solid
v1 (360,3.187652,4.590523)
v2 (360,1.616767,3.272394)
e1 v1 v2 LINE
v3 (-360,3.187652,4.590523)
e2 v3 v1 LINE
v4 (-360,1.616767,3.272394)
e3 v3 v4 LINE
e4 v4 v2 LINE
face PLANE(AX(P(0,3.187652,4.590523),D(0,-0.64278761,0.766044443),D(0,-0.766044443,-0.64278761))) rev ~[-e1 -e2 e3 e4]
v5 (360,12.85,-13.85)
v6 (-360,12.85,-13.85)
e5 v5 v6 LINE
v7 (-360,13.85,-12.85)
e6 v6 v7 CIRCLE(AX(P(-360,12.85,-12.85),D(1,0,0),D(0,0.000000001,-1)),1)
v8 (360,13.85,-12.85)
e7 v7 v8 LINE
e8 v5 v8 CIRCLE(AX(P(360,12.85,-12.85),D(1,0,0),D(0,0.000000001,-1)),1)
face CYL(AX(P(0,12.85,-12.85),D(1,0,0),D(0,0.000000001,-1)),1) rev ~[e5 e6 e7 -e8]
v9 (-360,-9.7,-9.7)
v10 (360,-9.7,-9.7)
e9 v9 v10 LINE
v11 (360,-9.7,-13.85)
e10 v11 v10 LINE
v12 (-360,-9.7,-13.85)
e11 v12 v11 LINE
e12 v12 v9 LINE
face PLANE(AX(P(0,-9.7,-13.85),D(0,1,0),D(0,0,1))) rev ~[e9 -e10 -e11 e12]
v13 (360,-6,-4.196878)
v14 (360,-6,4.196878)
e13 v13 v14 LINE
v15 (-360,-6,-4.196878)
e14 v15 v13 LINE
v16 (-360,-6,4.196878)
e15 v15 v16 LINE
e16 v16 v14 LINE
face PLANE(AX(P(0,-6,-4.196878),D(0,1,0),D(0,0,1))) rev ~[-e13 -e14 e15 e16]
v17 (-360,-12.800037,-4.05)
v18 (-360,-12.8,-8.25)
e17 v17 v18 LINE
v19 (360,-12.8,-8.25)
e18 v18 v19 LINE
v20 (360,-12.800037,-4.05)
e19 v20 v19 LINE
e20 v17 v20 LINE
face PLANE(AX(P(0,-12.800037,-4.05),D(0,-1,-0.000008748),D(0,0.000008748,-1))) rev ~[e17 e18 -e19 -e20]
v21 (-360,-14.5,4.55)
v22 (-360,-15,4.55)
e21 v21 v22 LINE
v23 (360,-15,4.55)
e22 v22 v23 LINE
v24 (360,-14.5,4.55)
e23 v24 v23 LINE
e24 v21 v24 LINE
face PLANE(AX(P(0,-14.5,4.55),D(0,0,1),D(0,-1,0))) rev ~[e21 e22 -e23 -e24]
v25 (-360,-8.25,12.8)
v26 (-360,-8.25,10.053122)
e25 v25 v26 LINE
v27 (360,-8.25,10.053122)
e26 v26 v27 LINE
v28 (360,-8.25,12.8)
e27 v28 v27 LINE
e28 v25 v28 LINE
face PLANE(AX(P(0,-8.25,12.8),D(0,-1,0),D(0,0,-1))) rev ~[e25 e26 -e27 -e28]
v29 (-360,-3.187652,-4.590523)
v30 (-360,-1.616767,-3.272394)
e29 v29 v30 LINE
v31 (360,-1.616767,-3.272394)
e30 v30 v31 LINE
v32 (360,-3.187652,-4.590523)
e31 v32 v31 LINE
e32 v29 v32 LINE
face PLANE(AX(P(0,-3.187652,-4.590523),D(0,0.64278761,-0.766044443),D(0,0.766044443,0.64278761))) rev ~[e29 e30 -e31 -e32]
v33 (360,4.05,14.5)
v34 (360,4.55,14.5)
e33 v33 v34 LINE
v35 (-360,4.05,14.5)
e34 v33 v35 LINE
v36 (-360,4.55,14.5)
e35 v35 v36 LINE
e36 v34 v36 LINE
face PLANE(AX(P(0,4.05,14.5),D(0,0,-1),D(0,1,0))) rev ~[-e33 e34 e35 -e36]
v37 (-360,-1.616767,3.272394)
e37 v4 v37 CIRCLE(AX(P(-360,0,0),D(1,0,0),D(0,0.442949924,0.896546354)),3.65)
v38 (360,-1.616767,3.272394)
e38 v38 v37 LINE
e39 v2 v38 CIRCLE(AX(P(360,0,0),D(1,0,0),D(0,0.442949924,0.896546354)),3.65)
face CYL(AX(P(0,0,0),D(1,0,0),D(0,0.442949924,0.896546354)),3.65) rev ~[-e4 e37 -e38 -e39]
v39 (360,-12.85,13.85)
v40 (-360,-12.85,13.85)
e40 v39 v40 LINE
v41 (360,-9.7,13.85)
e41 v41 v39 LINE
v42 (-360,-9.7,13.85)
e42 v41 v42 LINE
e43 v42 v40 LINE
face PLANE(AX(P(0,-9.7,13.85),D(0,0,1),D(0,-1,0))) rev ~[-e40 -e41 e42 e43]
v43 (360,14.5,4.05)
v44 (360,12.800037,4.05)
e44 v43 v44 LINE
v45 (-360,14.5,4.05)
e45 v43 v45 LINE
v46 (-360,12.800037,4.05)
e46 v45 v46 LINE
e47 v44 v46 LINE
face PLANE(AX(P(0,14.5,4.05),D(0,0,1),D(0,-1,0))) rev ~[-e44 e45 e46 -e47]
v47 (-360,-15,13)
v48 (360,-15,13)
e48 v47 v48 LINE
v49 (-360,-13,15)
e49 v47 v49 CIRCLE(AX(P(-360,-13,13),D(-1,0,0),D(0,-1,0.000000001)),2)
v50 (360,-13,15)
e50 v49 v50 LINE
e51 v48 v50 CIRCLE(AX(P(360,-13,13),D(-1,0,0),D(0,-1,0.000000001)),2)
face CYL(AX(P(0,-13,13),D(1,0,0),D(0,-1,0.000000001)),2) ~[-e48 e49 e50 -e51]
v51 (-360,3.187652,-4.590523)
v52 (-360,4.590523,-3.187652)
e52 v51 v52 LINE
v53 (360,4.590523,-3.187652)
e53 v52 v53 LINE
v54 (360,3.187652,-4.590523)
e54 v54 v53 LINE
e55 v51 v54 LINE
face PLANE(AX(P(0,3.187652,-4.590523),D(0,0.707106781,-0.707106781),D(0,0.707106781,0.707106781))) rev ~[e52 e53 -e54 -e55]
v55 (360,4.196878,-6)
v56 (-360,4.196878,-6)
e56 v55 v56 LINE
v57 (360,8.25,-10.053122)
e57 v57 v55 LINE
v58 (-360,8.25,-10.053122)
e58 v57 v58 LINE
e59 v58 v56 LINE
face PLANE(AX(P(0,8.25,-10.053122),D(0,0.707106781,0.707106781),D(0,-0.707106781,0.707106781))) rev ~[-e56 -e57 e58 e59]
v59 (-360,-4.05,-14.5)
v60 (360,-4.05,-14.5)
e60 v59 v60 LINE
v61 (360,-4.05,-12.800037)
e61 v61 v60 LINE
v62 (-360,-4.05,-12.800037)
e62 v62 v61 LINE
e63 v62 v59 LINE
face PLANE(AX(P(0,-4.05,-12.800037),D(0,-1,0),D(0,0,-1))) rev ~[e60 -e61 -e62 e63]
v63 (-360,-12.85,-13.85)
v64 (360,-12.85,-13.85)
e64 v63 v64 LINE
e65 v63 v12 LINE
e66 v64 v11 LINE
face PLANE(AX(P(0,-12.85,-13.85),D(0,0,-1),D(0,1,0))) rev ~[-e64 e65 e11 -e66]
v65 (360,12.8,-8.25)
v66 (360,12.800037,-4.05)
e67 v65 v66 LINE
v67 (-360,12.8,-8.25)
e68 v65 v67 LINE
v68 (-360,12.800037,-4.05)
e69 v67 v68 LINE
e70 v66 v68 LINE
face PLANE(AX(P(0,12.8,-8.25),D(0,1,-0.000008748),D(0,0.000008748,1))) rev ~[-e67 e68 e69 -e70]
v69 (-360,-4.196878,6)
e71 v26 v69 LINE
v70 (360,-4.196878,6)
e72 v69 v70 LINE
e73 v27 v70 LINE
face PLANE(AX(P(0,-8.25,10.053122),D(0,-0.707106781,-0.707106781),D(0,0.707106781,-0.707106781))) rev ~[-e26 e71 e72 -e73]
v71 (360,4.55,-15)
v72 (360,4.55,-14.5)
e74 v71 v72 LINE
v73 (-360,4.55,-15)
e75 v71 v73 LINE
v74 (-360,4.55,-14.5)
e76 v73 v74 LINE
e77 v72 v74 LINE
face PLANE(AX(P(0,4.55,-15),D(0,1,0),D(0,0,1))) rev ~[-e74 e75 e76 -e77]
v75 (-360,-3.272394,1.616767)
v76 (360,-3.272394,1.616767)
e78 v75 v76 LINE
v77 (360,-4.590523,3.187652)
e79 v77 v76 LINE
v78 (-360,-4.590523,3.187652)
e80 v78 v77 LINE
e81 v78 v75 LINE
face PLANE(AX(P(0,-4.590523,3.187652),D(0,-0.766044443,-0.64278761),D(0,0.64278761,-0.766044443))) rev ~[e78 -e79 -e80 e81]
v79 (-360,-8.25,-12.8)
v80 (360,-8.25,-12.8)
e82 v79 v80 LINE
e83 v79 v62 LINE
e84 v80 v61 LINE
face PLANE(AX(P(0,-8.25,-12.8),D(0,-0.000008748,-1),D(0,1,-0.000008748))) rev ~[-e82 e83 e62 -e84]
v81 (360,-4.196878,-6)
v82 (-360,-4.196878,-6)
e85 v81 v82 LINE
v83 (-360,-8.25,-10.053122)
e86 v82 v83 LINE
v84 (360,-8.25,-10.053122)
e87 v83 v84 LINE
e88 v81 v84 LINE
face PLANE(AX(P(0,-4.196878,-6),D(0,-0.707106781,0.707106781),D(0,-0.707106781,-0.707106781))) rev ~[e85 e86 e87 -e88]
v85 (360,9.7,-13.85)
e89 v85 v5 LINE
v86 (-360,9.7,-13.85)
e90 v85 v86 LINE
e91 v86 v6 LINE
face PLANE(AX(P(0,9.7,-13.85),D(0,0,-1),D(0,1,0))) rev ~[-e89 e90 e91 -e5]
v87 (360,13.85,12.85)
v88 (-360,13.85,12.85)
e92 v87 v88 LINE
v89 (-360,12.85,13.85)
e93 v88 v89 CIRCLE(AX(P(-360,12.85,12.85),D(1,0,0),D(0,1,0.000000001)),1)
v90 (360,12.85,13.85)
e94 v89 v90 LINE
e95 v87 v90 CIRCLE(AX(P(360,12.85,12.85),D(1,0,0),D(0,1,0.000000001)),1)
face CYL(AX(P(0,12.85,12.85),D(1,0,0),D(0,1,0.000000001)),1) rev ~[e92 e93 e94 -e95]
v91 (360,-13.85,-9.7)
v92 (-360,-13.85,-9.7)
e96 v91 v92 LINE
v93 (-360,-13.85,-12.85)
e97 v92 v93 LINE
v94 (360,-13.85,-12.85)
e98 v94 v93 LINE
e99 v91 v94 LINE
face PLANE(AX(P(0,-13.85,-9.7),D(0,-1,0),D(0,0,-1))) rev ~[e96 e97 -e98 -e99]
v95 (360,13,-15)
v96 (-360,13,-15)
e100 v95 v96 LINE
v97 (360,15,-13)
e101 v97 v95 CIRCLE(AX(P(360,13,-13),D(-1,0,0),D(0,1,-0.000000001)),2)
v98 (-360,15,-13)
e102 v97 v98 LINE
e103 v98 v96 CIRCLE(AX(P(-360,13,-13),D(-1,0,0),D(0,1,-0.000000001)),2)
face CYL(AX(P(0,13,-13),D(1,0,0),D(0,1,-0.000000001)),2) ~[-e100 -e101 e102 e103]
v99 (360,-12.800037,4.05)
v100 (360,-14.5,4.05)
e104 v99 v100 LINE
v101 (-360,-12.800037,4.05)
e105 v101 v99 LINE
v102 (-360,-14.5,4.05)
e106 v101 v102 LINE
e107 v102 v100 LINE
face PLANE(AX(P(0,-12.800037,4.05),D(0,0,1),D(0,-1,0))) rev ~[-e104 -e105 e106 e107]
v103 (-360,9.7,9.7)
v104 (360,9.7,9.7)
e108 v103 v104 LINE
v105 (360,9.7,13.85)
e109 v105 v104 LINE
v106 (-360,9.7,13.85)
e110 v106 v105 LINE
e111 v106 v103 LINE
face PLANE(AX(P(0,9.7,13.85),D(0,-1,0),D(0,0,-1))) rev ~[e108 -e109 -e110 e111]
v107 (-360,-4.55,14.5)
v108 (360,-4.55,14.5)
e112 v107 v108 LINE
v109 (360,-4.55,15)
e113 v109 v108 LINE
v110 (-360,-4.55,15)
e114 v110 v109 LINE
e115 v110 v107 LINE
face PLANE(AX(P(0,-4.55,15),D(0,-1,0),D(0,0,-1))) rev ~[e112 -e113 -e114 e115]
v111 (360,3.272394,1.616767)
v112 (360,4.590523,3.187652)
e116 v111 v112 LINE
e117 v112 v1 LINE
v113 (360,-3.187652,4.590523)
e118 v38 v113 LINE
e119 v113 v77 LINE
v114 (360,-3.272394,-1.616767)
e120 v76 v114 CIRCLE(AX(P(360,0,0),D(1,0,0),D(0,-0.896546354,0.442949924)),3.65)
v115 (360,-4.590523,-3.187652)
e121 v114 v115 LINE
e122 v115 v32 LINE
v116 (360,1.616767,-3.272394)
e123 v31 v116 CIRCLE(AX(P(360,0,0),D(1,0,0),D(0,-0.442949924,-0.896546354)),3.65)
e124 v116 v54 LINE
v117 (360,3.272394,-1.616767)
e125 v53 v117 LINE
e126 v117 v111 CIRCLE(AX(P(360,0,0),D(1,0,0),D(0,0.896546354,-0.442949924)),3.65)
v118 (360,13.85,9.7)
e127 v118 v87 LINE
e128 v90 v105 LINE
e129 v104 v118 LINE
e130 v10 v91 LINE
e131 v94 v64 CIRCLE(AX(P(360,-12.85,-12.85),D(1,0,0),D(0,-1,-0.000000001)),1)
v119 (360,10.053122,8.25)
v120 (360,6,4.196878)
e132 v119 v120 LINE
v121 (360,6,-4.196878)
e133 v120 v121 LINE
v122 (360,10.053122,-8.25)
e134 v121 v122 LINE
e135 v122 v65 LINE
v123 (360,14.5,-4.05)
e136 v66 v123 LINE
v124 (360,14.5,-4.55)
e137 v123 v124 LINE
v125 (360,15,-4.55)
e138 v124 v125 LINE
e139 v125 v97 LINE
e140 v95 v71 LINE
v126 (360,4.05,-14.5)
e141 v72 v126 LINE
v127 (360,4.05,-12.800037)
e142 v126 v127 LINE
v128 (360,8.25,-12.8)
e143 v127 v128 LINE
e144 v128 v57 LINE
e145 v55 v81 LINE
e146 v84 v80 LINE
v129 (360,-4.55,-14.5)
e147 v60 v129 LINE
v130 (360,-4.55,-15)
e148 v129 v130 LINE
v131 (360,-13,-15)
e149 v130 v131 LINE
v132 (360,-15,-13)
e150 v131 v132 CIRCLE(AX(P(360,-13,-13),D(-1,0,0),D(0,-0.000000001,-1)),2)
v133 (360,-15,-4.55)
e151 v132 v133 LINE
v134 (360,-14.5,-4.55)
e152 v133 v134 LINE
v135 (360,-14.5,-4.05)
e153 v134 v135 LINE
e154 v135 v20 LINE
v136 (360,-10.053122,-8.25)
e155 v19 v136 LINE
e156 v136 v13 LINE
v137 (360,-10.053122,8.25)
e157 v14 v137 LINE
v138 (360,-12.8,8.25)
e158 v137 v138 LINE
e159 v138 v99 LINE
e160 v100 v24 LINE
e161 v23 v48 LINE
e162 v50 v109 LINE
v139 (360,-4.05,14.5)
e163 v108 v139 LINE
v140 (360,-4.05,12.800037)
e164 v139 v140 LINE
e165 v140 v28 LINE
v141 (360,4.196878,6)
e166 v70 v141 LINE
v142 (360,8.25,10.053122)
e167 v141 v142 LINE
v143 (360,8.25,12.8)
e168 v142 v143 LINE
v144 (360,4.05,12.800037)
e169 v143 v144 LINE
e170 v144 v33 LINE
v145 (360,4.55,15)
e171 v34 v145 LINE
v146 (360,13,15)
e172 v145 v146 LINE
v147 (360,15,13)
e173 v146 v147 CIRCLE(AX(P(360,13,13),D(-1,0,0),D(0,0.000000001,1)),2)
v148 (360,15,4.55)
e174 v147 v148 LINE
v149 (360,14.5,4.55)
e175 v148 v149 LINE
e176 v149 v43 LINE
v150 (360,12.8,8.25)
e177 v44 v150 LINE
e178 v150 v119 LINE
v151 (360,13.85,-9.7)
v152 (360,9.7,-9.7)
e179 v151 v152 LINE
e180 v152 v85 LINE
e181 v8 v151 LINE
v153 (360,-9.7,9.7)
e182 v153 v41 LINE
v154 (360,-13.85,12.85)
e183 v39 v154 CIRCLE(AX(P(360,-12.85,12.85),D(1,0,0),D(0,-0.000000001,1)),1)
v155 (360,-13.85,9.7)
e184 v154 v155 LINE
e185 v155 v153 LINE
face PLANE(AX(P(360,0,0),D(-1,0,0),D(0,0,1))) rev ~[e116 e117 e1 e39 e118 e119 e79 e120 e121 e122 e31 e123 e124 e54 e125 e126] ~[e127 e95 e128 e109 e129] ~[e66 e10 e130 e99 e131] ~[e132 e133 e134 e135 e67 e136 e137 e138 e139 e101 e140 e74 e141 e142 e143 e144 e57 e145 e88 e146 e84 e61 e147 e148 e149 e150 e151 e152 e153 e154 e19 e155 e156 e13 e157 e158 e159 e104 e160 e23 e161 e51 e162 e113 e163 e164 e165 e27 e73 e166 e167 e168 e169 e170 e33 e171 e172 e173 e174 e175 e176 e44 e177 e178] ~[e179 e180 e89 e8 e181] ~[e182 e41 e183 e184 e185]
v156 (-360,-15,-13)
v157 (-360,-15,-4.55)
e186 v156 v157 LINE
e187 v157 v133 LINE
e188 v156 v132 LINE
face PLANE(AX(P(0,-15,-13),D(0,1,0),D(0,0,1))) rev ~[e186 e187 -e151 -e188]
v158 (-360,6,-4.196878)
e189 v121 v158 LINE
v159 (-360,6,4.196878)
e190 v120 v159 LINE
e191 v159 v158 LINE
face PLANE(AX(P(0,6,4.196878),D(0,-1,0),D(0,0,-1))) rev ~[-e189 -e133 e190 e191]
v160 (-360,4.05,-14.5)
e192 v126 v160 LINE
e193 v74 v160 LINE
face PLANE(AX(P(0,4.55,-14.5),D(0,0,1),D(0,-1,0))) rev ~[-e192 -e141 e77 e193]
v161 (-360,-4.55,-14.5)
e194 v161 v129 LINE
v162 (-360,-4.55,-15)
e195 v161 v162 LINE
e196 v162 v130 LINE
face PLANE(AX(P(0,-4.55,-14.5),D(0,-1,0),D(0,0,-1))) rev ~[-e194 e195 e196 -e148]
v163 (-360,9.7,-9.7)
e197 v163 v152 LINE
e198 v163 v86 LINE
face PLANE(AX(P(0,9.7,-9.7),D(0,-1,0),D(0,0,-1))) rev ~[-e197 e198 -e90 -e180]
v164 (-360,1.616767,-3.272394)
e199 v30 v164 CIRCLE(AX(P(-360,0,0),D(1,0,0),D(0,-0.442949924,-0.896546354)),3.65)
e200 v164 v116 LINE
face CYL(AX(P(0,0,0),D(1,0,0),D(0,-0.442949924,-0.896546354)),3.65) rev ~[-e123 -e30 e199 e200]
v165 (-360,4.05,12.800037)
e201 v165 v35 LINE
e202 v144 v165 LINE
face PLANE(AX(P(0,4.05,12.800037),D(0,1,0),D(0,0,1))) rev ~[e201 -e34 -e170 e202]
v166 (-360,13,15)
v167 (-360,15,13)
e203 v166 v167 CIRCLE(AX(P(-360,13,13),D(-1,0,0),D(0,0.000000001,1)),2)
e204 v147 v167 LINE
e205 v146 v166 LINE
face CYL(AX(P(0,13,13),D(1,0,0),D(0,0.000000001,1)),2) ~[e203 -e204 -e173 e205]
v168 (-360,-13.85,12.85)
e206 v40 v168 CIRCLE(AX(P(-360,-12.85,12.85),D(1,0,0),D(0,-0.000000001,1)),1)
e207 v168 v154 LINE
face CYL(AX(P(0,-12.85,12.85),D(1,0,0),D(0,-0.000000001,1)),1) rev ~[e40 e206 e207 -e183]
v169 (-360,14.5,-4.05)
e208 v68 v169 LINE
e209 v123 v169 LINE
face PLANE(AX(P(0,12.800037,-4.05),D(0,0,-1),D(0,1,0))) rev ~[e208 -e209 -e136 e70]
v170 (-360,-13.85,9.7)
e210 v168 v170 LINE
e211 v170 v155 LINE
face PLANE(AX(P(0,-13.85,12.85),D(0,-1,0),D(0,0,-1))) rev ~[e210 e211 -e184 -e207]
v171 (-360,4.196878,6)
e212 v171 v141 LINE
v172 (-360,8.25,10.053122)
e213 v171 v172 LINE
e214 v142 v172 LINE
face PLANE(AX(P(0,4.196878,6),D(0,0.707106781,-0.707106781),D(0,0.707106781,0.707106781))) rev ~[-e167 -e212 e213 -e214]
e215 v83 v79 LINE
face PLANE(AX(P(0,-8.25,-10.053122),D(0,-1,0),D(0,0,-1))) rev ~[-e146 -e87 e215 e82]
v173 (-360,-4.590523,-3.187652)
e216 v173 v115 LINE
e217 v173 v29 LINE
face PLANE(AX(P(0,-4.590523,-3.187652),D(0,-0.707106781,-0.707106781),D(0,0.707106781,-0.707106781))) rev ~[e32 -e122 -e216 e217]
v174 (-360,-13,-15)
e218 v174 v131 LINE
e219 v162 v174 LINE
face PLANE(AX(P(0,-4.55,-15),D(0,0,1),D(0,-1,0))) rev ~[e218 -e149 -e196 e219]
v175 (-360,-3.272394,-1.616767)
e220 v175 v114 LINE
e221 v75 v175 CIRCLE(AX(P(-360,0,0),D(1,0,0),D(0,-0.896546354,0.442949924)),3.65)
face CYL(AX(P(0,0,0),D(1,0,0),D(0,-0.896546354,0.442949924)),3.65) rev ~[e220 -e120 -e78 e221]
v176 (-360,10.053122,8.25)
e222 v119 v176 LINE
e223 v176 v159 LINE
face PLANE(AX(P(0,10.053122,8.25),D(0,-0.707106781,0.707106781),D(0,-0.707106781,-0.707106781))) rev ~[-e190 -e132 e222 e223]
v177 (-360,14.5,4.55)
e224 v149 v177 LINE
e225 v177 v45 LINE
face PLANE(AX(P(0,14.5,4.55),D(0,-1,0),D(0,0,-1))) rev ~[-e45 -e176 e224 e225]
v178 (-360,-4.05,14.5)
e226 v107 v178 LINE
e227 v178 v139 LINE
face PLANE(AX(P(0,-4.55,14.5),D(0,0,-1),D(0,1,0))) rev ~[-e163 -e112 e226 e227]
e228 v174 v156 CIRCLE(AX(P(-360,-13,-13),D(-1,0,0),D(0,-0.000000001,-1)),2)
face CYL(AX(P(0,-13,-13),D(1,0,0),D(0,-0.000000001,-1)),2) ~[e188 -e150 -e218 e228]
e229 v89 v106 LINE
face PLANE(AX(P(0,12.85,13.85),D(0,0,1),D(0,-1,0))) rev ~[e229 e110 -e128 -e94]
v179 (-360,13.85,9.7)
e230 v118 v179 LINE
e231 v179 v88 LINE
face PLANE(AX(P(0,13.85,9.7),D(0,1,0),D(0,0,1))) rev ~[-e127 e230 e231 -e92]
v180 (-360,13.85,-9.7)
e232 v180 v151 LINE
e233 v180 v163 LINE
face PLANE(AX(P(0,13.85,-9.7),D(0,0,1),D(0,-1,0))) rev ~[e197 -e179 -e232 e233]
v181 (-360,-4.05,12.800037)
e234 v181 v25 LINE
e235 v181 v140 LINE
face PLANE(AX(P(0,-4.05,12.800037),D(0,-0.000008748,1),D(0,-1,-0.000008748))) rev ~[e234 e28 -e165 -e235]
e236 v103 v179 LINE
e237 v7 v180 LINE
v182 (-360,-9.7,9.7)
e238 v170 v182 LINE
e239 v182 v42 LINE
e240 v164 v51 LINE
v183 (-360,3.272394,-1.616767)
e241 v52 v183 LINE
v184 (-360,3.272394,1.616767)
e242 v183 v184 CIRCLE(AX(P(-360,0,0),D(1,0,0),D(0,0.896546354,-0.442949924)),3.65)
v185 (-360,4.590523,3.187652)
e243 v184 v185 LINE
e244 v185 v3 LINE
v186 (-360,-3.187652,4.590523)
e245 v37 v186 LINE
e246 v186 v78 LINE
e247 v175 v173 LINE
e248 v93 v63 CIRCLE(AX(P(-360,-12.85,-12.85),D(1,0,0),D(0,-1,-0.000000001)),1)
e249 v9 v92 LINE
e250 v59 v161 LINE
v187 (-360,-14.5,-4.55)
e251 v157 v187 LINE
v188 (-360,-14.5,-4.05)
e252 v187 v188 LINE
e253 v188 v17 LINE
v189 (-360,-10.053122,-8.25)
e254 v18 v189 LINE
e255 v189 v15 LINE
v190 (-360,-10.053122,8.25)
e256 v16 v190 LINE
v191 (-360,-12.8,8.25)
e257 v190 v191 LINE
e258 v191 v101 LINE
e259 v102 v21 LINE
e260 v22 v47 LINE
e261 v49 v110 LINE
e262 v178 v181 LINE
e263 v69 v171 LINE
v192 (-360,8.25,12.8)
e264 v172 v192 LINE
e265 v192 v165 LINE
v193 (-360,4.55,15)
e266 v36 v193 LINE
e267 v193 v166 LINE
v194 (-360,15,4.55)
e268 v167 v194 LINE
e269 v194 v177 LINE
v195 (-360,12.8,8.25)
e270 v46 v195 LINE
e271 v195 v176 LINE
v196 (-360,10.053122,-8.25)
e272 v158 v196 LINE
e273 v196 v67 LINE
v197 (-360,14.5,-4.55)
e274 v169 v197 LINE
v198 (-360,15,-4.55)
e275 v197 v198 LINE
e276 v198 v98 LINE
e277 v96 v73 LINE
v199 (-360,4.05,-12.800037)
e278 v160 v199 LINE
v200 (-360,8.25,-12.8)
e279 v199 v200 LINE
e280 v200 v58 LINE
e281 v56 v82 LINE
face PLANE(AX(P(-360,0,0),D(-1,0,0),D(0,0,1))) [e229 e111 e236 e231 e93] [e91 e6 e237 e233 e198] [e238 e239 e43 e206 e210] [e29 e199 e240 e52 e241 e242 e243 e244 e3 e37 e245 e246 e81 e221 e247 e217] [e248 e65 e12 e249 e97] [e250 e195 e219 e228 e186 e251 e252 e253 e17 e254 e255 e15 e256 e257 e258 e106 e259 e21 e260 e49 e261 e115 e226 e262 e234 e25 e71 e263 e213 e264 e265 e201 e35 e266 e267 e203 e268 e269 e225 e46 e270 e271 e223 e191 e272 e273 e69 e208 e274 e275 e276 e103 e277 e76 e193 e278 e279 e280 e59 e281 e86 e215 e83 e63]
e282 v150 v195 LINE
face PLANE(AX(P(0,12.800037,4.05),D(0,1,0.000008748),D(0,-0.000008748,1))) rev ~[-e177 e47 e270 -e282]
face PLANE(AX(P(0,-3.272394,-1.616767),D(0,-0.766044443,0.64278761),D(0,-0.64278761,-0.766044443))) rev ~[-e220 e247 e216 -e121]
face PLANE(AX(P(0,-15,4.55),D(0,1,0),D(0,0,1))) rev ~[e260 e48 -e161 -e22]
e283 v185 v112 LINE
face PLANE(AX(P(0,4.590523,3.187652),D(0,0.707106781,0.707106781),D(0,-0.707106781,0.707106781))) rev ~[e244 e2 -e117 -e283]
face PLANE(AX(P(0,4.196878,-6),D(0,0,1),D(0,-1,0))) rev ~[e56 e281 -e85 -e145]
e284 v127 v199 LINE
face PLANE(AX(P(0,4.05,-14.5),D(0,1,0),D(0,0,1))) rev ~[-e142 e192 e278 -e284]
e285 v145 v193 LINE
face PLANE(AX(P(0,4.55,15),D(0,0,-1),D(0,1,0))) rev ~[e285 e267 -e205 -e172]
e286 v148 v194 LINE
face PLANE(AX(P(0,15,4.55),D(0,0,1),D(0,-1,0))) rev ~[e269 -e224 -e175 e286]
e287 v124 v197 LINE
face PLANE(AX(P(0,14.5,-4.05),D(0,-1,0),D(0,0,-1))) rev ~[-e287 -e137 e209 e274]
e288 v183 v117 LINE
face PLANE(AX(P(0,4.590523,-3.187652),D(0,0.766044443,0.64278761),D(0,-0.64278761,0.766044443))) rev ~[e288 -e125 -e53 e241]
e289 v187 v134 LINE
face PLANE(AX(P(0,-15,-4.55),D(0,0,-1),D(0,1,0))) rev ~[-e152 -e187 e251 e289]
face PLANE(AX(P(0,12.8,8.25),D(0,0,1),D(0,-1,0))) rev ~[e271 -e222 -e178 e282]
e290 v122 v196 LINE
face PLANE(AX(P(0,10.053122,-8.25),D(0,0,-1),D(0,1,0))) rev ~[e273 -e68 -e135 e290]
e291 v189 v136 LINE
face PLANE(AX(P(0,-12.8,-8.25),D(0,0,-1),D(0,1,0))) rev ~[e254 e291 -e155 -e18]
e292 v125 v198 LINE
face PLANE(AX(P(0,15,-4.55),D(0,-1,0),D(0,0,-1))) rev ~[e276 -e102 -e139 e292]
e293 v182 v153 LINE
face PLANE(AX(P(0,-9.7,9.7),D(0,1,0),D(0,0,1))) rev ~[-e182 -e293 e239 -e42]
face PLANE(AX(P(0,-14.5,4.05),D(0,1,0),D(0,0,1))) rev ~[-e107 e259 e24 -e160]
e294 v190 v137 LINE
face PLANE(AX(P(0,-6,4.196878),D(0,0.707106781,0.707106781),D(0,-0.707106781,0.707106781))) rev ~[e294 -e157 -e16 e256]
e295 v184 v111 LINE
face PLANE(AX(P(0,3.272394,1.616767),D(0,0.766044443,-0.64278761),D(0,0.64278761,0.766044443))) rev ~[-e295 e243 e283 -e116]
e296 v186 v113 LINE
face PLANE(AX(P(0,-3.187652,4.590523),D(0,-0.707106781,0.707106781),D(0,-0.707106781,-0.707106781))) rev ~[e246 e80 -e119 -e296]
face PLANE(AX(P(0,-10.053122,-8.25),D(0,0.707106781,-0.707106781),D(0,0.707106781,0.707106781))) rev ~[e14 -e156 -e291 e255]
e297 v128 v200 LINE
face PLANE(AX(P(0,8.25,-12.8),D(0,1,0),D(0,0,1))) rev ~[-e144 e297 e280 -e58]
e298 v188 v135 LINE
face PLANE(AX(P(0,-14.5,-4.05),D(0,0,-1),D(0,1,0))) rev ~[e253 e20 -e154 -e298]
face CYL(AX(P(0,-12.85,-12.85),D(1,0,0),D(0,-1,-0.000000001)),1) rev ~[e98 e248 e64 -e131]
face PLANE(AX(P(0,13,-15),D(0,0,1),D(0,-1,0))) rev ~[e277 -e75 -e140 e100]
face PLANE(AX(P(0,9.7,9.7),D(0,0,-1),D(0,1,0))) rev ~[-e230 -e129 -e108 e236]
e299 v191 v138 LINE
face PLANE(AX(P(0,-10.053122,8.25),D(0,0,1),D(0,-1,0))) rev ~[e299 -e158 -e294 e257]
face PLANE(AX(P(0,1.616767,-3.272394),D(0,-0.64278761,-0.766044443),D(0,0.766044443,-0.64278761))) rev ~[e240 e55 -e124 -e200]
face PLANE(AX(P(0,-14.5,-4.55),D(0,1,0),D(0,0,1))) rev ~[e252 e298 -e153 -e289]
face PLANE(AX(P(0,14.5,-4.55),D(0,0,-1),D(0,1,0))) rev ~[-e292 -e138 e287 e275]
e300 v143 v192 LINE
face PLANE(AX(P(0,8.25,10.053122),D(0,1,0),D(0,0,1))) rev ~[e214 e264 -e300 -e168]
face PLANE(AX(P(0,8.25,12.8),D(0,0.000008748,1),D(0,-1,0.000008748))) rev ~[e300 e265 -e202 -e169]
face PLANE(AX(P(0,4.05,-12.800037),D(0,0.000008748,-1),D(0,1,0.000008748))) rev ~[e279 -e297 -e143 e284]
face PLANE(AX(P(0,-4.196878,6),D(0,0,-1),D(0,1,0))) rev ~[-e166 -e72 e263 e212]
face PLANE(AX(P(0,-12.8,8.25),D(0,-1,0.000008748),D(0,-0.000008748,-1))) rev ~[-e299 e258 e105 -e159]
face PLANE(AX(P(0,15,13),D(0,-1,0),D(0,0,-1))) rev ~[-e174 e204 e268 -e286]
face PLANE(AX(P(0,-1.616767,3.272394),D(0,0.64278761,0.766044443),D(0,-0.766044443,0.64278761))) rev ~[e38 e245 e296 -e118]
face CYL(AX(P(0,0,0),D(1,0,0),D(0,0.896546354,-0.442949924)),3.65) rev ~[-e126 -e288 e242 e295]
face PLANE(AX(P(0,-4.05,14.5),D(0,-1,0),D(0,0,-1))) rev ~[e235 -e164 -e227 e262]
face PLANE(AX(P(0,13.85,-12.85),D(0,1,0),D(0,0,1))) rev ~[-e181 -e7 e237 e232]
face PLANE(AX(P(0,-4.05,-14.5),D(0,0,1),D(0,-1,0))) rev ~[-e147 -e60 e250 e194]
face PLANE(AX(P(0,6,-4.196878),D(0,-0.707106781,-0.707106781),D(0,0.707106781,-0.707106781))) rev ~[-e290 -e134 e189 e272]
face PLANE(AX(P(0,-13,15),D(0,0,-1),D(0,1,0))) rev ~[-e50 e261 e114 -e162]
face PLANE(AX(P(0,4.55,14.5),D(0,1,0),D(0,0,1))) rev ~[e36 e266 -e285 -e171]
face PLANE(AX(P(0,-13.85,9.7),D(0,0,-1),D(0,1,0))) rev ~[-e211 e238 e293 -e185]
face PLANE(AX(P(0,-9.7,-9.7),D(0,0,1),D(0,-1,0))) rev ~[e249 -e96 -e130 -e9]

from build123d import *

# Parameters (mm, degrees)
BR_EXTRUDE_DEPTH      = 360
BR_EXTRUDE_DEPTH_BACK = 360


with BuildPart() as part:
    # Sketch2 → BR_Extrude (new body, two sides)
    with BuildSketch(Plane(origin=(0, 0, 0), x_dir=(0, 0, -1), z_dir=(1, 0, 0))) as br_extrude_sk:
        with BuildLine():
            Line((-6, 4.196877708), (-10.053122292, 8.25))
            Line((-10.053122292, 8.25), (-12.8, 8.25))
            Line((-12.8, 8.25), (-12.800036742, 4.05))
            Line((-12.800036742, 4.05), (-14.5, 4.05))
            Line((-14.5, 4.05), (-14.5, 4.55))
            Line((-14.5, 4.55), (-15, 4.55))
            Line((-15, 4.55), (-15, 13))
            ThreePointArc((-15, 13), (-14.414213562, 14.414213562), (-13, 15))
            Line((-13, 15), (-4.55, 15))
            Line((-4.55, 15), (-4.55, 14.5))
            Line((-4.55, 14.5), (-4.05, 14.5))
            Line((-4.05, 14.5), (-4.05, 12.800036742))
            Line((-4.05, 12.800036742), (-8.25, 12.8))
            Line((-8.25, 12.8), (-8.25, 10.053122292))
            Line((-8.25, 10.053122292), (-4.196877708, 6))
            Line((-4.196877708, 6), (4.196877708, 6))
            Line((4.196877708, 6), (8.25, 10.053122292))
            Line((8.25, 10.053122292), (8.25, 12.8))
            Line((8.25, 12.8), (4.05, 12.800036742))
            Line((4.05, 12.800036742), (4.05, 14.5))
            Line((4.05, 14.5), (4.55, 14.5))
            Line((4.55, 14.5), (4.55, 15))
            Line((4.55, 15), (13, 15))
            ThreePointArc((13, 15), (14.414213562, 14.414213562), (15, 13))
            Line((15, 13), (15, 4.55))
            Line((15, 4.55), (14.5, 4.55))
            Line((14.5, 4.55), (14.5, 4.05))
            Line((14.5, 4.05), (12.800036742, 4.05))
            Line((12.800036742, 4.05), (12.8, 8.25))
            Line((12.8, 8.25), (10.053122292, 8.25))
            Line((10.053122292, 8.25), (6, 4.196877708))
            Line((6, 4.196877708), (6, -4.196877708))
            Line((6, -4.196877708), (10.053122292, -8.25))
            Line((10.053122292, -8.25), (12.8, -8.25))
            Line((12.8, -8.25), (12.800036742, -4.05))
            Line((12.800036742, -4.05), (14.5, -4.05))
            Line((14.5, -4.05), (14.5, -4.55))
            Line((14.5, -4.55), (15, -4.55))
            Line((15, -4.55), (15, -13))
            ThreePointArc((15, -13), (14.414213562, -14.414213562), (13, -15))
            Line((13, -15), (4.55, -15))
            Line((4.55, -15), (4.55, -14.5))
            Line((4.55, -14.5), (4.05, -14.5))
            Line((4.05, -14.5), (4.05, -12.800036742))
            Line((4.05, -12.800036742), (8.25, -12.8))
            Line((8.25, -12.8), (8.25, -10.053122292))
            Line((8.25, -10.053122292), (4.196877708, -6))
            Line((4.196877708, -6), (-4.196877708, -6))
            Line((-4.196877708, -6), (-8.25, -10.053122292))
            Line((-8.25, -10.053122292), (-8.25, -12.8))
            Line((-8.25, -12.8), (-4.05, -12.800036742))
            Line((-4.05, -12.800036742), (-4.05, -14.5))
            Line((-4.05, -14.5), (-4.55, -14.5))
            Line((-4.55, -14.5), (-4.55, -15))
            Line((-4.55, -15), (-13, -15))
            ThreePointArc((-13, -15), (-14.414213562, -14.414213562), (-15, -13))
            Line((-15, -13), (-15, -4.55))
            Line((-15, -4.55), (-14.5, -4.55))
            Line((-14.5, -4.55), (-14.5, -4.05))
            Line((-14.5, -4.05), (-12.800036742, -4.05))
            Line((-12.800036742, -4.05), (-12.8, -8.25))
            Line((-12.8, -8.25), (-10.053122292, -8.25))
            Line((-10.053122292, -8.25), (-6, -4.196877708))
            Line((-6, -4.196877708), (-6, 4.196877708))
        make_face()
        with BuildLine():
            Line((-13.85, -9.7), (-13.85, -12.85))
            ThreePointArc((-13.85, -12.85), (-13.557106781, -13.557106781), (-12.85, -13.85))
            Line((-12.85, -13.85), (-9.7, -13.85))
            Line((-9.7, -13.85), (-9.7, -9.7))
            Line((-9.7, -9.7), (-13.85, -9.7))
        make_face(mode=Mode.SUBTRACT)
        with BuildLine():
            Line((9.7, -13.85), (12.85, -13.85))
            ThreePointArc((12.85, -13.85), (13.557106781, -13.557106781), (13.85, -12.85))
            Line((13.85, -12.85), (13.85, -9.7))
            Line((13.85, -9.7), (9.7, -9.7))
            Line((9.7, -9.7), (9.7, -13.85))
        make_face(mode=Mode.SUBTRACT)
        with BuildLine():
            Line((13.85, 9.7), (13.85, 12.85))
            ThreePointArc((13.85, 12.85), (13.557106781, 13.557106781), (12.85, 13.85))
            Line((12.85, 13.85), (9.7, 13.85))
            Line((9.7, 13.85), (9.7, 9.7))
            Line((9.7, 9.7), (13.85, 9.7))
        make_face(mode=Mode.SUBTRACT)
        with BuildLine():
            Line((-9.7, 13.85), (-12.85, 13.85))
            ThreePointArc((-12.85, 13.85), (-13.557106781, 13.557106781), (-13.85, 12.85))
            Line((-13.85, 12.85), (-13.85, 9.7))
            Line((-13.85, 9.7), (-9.7, 9.7))
            Line((-9.7, 9.7), (-9.7, 13.85))
        make_face(mode=Mode.SUBTRACT)
        with BuildLine():
            Line((-3.272394192, -1.616767223), (-4.59052283, -3.187651763))
            Line((-4.59052283, -3.187651763), (-3.187651763, -4.59052283))
            Line((-3.187651763, -4.59052283), (-1.616767223, -3.272394192))
            ThreePointArc((-1.616767223, -3.272394192), (0, -3.65), (1.616767223, -3.272394192))
            Line((1.616767223, -3.272394192), (3.187651763, -4.59052283))
            Line((3.187651763, -4.59052283), (4.59052283, -3.187651763))
            Line((4.59052283, -3.187651763), (3.272394192, -1.616767223))
            ThreePointArc((3.272394192, -1.616767223), (3.65, 0), (3.272394192, 1.616767223))
            Line((3.272394192, 1.616767223), (4.59052283, 3.187651763))
            Line((4.59052283, 3.187651763), (3.187651763, 4.59052283))
            Line((3.187651763, 4.59052283), (1.616767223, 3.272394192))
            ThreePointArc((1.616767223, 3.272394192), (0, 3.65), (-1.616767223, 3.272394192))
            Line((-1.616767223, 3.272394192), (-3.187651763, 4.59052283))
            Line((-3.187651763, 4.59052283), (-4.59052283, 3.187651763))
            Line((-4.59052283, 3.187651763), (-3.272394192, 1.616767223))
            ThreePointArc((-3.272394192, 1.616767223), (-3.65, 0), (-3.272394192, -1.616767223))
        make_face(mode=Mode.SUBTRACT)
    extrude(amount=BR_EXTRUDE_DEPTH)
    extrude(br_extrude_sk.sketch, amount=-BR_EXTRUDE_DEPTH_BACK)


solid = part.part
